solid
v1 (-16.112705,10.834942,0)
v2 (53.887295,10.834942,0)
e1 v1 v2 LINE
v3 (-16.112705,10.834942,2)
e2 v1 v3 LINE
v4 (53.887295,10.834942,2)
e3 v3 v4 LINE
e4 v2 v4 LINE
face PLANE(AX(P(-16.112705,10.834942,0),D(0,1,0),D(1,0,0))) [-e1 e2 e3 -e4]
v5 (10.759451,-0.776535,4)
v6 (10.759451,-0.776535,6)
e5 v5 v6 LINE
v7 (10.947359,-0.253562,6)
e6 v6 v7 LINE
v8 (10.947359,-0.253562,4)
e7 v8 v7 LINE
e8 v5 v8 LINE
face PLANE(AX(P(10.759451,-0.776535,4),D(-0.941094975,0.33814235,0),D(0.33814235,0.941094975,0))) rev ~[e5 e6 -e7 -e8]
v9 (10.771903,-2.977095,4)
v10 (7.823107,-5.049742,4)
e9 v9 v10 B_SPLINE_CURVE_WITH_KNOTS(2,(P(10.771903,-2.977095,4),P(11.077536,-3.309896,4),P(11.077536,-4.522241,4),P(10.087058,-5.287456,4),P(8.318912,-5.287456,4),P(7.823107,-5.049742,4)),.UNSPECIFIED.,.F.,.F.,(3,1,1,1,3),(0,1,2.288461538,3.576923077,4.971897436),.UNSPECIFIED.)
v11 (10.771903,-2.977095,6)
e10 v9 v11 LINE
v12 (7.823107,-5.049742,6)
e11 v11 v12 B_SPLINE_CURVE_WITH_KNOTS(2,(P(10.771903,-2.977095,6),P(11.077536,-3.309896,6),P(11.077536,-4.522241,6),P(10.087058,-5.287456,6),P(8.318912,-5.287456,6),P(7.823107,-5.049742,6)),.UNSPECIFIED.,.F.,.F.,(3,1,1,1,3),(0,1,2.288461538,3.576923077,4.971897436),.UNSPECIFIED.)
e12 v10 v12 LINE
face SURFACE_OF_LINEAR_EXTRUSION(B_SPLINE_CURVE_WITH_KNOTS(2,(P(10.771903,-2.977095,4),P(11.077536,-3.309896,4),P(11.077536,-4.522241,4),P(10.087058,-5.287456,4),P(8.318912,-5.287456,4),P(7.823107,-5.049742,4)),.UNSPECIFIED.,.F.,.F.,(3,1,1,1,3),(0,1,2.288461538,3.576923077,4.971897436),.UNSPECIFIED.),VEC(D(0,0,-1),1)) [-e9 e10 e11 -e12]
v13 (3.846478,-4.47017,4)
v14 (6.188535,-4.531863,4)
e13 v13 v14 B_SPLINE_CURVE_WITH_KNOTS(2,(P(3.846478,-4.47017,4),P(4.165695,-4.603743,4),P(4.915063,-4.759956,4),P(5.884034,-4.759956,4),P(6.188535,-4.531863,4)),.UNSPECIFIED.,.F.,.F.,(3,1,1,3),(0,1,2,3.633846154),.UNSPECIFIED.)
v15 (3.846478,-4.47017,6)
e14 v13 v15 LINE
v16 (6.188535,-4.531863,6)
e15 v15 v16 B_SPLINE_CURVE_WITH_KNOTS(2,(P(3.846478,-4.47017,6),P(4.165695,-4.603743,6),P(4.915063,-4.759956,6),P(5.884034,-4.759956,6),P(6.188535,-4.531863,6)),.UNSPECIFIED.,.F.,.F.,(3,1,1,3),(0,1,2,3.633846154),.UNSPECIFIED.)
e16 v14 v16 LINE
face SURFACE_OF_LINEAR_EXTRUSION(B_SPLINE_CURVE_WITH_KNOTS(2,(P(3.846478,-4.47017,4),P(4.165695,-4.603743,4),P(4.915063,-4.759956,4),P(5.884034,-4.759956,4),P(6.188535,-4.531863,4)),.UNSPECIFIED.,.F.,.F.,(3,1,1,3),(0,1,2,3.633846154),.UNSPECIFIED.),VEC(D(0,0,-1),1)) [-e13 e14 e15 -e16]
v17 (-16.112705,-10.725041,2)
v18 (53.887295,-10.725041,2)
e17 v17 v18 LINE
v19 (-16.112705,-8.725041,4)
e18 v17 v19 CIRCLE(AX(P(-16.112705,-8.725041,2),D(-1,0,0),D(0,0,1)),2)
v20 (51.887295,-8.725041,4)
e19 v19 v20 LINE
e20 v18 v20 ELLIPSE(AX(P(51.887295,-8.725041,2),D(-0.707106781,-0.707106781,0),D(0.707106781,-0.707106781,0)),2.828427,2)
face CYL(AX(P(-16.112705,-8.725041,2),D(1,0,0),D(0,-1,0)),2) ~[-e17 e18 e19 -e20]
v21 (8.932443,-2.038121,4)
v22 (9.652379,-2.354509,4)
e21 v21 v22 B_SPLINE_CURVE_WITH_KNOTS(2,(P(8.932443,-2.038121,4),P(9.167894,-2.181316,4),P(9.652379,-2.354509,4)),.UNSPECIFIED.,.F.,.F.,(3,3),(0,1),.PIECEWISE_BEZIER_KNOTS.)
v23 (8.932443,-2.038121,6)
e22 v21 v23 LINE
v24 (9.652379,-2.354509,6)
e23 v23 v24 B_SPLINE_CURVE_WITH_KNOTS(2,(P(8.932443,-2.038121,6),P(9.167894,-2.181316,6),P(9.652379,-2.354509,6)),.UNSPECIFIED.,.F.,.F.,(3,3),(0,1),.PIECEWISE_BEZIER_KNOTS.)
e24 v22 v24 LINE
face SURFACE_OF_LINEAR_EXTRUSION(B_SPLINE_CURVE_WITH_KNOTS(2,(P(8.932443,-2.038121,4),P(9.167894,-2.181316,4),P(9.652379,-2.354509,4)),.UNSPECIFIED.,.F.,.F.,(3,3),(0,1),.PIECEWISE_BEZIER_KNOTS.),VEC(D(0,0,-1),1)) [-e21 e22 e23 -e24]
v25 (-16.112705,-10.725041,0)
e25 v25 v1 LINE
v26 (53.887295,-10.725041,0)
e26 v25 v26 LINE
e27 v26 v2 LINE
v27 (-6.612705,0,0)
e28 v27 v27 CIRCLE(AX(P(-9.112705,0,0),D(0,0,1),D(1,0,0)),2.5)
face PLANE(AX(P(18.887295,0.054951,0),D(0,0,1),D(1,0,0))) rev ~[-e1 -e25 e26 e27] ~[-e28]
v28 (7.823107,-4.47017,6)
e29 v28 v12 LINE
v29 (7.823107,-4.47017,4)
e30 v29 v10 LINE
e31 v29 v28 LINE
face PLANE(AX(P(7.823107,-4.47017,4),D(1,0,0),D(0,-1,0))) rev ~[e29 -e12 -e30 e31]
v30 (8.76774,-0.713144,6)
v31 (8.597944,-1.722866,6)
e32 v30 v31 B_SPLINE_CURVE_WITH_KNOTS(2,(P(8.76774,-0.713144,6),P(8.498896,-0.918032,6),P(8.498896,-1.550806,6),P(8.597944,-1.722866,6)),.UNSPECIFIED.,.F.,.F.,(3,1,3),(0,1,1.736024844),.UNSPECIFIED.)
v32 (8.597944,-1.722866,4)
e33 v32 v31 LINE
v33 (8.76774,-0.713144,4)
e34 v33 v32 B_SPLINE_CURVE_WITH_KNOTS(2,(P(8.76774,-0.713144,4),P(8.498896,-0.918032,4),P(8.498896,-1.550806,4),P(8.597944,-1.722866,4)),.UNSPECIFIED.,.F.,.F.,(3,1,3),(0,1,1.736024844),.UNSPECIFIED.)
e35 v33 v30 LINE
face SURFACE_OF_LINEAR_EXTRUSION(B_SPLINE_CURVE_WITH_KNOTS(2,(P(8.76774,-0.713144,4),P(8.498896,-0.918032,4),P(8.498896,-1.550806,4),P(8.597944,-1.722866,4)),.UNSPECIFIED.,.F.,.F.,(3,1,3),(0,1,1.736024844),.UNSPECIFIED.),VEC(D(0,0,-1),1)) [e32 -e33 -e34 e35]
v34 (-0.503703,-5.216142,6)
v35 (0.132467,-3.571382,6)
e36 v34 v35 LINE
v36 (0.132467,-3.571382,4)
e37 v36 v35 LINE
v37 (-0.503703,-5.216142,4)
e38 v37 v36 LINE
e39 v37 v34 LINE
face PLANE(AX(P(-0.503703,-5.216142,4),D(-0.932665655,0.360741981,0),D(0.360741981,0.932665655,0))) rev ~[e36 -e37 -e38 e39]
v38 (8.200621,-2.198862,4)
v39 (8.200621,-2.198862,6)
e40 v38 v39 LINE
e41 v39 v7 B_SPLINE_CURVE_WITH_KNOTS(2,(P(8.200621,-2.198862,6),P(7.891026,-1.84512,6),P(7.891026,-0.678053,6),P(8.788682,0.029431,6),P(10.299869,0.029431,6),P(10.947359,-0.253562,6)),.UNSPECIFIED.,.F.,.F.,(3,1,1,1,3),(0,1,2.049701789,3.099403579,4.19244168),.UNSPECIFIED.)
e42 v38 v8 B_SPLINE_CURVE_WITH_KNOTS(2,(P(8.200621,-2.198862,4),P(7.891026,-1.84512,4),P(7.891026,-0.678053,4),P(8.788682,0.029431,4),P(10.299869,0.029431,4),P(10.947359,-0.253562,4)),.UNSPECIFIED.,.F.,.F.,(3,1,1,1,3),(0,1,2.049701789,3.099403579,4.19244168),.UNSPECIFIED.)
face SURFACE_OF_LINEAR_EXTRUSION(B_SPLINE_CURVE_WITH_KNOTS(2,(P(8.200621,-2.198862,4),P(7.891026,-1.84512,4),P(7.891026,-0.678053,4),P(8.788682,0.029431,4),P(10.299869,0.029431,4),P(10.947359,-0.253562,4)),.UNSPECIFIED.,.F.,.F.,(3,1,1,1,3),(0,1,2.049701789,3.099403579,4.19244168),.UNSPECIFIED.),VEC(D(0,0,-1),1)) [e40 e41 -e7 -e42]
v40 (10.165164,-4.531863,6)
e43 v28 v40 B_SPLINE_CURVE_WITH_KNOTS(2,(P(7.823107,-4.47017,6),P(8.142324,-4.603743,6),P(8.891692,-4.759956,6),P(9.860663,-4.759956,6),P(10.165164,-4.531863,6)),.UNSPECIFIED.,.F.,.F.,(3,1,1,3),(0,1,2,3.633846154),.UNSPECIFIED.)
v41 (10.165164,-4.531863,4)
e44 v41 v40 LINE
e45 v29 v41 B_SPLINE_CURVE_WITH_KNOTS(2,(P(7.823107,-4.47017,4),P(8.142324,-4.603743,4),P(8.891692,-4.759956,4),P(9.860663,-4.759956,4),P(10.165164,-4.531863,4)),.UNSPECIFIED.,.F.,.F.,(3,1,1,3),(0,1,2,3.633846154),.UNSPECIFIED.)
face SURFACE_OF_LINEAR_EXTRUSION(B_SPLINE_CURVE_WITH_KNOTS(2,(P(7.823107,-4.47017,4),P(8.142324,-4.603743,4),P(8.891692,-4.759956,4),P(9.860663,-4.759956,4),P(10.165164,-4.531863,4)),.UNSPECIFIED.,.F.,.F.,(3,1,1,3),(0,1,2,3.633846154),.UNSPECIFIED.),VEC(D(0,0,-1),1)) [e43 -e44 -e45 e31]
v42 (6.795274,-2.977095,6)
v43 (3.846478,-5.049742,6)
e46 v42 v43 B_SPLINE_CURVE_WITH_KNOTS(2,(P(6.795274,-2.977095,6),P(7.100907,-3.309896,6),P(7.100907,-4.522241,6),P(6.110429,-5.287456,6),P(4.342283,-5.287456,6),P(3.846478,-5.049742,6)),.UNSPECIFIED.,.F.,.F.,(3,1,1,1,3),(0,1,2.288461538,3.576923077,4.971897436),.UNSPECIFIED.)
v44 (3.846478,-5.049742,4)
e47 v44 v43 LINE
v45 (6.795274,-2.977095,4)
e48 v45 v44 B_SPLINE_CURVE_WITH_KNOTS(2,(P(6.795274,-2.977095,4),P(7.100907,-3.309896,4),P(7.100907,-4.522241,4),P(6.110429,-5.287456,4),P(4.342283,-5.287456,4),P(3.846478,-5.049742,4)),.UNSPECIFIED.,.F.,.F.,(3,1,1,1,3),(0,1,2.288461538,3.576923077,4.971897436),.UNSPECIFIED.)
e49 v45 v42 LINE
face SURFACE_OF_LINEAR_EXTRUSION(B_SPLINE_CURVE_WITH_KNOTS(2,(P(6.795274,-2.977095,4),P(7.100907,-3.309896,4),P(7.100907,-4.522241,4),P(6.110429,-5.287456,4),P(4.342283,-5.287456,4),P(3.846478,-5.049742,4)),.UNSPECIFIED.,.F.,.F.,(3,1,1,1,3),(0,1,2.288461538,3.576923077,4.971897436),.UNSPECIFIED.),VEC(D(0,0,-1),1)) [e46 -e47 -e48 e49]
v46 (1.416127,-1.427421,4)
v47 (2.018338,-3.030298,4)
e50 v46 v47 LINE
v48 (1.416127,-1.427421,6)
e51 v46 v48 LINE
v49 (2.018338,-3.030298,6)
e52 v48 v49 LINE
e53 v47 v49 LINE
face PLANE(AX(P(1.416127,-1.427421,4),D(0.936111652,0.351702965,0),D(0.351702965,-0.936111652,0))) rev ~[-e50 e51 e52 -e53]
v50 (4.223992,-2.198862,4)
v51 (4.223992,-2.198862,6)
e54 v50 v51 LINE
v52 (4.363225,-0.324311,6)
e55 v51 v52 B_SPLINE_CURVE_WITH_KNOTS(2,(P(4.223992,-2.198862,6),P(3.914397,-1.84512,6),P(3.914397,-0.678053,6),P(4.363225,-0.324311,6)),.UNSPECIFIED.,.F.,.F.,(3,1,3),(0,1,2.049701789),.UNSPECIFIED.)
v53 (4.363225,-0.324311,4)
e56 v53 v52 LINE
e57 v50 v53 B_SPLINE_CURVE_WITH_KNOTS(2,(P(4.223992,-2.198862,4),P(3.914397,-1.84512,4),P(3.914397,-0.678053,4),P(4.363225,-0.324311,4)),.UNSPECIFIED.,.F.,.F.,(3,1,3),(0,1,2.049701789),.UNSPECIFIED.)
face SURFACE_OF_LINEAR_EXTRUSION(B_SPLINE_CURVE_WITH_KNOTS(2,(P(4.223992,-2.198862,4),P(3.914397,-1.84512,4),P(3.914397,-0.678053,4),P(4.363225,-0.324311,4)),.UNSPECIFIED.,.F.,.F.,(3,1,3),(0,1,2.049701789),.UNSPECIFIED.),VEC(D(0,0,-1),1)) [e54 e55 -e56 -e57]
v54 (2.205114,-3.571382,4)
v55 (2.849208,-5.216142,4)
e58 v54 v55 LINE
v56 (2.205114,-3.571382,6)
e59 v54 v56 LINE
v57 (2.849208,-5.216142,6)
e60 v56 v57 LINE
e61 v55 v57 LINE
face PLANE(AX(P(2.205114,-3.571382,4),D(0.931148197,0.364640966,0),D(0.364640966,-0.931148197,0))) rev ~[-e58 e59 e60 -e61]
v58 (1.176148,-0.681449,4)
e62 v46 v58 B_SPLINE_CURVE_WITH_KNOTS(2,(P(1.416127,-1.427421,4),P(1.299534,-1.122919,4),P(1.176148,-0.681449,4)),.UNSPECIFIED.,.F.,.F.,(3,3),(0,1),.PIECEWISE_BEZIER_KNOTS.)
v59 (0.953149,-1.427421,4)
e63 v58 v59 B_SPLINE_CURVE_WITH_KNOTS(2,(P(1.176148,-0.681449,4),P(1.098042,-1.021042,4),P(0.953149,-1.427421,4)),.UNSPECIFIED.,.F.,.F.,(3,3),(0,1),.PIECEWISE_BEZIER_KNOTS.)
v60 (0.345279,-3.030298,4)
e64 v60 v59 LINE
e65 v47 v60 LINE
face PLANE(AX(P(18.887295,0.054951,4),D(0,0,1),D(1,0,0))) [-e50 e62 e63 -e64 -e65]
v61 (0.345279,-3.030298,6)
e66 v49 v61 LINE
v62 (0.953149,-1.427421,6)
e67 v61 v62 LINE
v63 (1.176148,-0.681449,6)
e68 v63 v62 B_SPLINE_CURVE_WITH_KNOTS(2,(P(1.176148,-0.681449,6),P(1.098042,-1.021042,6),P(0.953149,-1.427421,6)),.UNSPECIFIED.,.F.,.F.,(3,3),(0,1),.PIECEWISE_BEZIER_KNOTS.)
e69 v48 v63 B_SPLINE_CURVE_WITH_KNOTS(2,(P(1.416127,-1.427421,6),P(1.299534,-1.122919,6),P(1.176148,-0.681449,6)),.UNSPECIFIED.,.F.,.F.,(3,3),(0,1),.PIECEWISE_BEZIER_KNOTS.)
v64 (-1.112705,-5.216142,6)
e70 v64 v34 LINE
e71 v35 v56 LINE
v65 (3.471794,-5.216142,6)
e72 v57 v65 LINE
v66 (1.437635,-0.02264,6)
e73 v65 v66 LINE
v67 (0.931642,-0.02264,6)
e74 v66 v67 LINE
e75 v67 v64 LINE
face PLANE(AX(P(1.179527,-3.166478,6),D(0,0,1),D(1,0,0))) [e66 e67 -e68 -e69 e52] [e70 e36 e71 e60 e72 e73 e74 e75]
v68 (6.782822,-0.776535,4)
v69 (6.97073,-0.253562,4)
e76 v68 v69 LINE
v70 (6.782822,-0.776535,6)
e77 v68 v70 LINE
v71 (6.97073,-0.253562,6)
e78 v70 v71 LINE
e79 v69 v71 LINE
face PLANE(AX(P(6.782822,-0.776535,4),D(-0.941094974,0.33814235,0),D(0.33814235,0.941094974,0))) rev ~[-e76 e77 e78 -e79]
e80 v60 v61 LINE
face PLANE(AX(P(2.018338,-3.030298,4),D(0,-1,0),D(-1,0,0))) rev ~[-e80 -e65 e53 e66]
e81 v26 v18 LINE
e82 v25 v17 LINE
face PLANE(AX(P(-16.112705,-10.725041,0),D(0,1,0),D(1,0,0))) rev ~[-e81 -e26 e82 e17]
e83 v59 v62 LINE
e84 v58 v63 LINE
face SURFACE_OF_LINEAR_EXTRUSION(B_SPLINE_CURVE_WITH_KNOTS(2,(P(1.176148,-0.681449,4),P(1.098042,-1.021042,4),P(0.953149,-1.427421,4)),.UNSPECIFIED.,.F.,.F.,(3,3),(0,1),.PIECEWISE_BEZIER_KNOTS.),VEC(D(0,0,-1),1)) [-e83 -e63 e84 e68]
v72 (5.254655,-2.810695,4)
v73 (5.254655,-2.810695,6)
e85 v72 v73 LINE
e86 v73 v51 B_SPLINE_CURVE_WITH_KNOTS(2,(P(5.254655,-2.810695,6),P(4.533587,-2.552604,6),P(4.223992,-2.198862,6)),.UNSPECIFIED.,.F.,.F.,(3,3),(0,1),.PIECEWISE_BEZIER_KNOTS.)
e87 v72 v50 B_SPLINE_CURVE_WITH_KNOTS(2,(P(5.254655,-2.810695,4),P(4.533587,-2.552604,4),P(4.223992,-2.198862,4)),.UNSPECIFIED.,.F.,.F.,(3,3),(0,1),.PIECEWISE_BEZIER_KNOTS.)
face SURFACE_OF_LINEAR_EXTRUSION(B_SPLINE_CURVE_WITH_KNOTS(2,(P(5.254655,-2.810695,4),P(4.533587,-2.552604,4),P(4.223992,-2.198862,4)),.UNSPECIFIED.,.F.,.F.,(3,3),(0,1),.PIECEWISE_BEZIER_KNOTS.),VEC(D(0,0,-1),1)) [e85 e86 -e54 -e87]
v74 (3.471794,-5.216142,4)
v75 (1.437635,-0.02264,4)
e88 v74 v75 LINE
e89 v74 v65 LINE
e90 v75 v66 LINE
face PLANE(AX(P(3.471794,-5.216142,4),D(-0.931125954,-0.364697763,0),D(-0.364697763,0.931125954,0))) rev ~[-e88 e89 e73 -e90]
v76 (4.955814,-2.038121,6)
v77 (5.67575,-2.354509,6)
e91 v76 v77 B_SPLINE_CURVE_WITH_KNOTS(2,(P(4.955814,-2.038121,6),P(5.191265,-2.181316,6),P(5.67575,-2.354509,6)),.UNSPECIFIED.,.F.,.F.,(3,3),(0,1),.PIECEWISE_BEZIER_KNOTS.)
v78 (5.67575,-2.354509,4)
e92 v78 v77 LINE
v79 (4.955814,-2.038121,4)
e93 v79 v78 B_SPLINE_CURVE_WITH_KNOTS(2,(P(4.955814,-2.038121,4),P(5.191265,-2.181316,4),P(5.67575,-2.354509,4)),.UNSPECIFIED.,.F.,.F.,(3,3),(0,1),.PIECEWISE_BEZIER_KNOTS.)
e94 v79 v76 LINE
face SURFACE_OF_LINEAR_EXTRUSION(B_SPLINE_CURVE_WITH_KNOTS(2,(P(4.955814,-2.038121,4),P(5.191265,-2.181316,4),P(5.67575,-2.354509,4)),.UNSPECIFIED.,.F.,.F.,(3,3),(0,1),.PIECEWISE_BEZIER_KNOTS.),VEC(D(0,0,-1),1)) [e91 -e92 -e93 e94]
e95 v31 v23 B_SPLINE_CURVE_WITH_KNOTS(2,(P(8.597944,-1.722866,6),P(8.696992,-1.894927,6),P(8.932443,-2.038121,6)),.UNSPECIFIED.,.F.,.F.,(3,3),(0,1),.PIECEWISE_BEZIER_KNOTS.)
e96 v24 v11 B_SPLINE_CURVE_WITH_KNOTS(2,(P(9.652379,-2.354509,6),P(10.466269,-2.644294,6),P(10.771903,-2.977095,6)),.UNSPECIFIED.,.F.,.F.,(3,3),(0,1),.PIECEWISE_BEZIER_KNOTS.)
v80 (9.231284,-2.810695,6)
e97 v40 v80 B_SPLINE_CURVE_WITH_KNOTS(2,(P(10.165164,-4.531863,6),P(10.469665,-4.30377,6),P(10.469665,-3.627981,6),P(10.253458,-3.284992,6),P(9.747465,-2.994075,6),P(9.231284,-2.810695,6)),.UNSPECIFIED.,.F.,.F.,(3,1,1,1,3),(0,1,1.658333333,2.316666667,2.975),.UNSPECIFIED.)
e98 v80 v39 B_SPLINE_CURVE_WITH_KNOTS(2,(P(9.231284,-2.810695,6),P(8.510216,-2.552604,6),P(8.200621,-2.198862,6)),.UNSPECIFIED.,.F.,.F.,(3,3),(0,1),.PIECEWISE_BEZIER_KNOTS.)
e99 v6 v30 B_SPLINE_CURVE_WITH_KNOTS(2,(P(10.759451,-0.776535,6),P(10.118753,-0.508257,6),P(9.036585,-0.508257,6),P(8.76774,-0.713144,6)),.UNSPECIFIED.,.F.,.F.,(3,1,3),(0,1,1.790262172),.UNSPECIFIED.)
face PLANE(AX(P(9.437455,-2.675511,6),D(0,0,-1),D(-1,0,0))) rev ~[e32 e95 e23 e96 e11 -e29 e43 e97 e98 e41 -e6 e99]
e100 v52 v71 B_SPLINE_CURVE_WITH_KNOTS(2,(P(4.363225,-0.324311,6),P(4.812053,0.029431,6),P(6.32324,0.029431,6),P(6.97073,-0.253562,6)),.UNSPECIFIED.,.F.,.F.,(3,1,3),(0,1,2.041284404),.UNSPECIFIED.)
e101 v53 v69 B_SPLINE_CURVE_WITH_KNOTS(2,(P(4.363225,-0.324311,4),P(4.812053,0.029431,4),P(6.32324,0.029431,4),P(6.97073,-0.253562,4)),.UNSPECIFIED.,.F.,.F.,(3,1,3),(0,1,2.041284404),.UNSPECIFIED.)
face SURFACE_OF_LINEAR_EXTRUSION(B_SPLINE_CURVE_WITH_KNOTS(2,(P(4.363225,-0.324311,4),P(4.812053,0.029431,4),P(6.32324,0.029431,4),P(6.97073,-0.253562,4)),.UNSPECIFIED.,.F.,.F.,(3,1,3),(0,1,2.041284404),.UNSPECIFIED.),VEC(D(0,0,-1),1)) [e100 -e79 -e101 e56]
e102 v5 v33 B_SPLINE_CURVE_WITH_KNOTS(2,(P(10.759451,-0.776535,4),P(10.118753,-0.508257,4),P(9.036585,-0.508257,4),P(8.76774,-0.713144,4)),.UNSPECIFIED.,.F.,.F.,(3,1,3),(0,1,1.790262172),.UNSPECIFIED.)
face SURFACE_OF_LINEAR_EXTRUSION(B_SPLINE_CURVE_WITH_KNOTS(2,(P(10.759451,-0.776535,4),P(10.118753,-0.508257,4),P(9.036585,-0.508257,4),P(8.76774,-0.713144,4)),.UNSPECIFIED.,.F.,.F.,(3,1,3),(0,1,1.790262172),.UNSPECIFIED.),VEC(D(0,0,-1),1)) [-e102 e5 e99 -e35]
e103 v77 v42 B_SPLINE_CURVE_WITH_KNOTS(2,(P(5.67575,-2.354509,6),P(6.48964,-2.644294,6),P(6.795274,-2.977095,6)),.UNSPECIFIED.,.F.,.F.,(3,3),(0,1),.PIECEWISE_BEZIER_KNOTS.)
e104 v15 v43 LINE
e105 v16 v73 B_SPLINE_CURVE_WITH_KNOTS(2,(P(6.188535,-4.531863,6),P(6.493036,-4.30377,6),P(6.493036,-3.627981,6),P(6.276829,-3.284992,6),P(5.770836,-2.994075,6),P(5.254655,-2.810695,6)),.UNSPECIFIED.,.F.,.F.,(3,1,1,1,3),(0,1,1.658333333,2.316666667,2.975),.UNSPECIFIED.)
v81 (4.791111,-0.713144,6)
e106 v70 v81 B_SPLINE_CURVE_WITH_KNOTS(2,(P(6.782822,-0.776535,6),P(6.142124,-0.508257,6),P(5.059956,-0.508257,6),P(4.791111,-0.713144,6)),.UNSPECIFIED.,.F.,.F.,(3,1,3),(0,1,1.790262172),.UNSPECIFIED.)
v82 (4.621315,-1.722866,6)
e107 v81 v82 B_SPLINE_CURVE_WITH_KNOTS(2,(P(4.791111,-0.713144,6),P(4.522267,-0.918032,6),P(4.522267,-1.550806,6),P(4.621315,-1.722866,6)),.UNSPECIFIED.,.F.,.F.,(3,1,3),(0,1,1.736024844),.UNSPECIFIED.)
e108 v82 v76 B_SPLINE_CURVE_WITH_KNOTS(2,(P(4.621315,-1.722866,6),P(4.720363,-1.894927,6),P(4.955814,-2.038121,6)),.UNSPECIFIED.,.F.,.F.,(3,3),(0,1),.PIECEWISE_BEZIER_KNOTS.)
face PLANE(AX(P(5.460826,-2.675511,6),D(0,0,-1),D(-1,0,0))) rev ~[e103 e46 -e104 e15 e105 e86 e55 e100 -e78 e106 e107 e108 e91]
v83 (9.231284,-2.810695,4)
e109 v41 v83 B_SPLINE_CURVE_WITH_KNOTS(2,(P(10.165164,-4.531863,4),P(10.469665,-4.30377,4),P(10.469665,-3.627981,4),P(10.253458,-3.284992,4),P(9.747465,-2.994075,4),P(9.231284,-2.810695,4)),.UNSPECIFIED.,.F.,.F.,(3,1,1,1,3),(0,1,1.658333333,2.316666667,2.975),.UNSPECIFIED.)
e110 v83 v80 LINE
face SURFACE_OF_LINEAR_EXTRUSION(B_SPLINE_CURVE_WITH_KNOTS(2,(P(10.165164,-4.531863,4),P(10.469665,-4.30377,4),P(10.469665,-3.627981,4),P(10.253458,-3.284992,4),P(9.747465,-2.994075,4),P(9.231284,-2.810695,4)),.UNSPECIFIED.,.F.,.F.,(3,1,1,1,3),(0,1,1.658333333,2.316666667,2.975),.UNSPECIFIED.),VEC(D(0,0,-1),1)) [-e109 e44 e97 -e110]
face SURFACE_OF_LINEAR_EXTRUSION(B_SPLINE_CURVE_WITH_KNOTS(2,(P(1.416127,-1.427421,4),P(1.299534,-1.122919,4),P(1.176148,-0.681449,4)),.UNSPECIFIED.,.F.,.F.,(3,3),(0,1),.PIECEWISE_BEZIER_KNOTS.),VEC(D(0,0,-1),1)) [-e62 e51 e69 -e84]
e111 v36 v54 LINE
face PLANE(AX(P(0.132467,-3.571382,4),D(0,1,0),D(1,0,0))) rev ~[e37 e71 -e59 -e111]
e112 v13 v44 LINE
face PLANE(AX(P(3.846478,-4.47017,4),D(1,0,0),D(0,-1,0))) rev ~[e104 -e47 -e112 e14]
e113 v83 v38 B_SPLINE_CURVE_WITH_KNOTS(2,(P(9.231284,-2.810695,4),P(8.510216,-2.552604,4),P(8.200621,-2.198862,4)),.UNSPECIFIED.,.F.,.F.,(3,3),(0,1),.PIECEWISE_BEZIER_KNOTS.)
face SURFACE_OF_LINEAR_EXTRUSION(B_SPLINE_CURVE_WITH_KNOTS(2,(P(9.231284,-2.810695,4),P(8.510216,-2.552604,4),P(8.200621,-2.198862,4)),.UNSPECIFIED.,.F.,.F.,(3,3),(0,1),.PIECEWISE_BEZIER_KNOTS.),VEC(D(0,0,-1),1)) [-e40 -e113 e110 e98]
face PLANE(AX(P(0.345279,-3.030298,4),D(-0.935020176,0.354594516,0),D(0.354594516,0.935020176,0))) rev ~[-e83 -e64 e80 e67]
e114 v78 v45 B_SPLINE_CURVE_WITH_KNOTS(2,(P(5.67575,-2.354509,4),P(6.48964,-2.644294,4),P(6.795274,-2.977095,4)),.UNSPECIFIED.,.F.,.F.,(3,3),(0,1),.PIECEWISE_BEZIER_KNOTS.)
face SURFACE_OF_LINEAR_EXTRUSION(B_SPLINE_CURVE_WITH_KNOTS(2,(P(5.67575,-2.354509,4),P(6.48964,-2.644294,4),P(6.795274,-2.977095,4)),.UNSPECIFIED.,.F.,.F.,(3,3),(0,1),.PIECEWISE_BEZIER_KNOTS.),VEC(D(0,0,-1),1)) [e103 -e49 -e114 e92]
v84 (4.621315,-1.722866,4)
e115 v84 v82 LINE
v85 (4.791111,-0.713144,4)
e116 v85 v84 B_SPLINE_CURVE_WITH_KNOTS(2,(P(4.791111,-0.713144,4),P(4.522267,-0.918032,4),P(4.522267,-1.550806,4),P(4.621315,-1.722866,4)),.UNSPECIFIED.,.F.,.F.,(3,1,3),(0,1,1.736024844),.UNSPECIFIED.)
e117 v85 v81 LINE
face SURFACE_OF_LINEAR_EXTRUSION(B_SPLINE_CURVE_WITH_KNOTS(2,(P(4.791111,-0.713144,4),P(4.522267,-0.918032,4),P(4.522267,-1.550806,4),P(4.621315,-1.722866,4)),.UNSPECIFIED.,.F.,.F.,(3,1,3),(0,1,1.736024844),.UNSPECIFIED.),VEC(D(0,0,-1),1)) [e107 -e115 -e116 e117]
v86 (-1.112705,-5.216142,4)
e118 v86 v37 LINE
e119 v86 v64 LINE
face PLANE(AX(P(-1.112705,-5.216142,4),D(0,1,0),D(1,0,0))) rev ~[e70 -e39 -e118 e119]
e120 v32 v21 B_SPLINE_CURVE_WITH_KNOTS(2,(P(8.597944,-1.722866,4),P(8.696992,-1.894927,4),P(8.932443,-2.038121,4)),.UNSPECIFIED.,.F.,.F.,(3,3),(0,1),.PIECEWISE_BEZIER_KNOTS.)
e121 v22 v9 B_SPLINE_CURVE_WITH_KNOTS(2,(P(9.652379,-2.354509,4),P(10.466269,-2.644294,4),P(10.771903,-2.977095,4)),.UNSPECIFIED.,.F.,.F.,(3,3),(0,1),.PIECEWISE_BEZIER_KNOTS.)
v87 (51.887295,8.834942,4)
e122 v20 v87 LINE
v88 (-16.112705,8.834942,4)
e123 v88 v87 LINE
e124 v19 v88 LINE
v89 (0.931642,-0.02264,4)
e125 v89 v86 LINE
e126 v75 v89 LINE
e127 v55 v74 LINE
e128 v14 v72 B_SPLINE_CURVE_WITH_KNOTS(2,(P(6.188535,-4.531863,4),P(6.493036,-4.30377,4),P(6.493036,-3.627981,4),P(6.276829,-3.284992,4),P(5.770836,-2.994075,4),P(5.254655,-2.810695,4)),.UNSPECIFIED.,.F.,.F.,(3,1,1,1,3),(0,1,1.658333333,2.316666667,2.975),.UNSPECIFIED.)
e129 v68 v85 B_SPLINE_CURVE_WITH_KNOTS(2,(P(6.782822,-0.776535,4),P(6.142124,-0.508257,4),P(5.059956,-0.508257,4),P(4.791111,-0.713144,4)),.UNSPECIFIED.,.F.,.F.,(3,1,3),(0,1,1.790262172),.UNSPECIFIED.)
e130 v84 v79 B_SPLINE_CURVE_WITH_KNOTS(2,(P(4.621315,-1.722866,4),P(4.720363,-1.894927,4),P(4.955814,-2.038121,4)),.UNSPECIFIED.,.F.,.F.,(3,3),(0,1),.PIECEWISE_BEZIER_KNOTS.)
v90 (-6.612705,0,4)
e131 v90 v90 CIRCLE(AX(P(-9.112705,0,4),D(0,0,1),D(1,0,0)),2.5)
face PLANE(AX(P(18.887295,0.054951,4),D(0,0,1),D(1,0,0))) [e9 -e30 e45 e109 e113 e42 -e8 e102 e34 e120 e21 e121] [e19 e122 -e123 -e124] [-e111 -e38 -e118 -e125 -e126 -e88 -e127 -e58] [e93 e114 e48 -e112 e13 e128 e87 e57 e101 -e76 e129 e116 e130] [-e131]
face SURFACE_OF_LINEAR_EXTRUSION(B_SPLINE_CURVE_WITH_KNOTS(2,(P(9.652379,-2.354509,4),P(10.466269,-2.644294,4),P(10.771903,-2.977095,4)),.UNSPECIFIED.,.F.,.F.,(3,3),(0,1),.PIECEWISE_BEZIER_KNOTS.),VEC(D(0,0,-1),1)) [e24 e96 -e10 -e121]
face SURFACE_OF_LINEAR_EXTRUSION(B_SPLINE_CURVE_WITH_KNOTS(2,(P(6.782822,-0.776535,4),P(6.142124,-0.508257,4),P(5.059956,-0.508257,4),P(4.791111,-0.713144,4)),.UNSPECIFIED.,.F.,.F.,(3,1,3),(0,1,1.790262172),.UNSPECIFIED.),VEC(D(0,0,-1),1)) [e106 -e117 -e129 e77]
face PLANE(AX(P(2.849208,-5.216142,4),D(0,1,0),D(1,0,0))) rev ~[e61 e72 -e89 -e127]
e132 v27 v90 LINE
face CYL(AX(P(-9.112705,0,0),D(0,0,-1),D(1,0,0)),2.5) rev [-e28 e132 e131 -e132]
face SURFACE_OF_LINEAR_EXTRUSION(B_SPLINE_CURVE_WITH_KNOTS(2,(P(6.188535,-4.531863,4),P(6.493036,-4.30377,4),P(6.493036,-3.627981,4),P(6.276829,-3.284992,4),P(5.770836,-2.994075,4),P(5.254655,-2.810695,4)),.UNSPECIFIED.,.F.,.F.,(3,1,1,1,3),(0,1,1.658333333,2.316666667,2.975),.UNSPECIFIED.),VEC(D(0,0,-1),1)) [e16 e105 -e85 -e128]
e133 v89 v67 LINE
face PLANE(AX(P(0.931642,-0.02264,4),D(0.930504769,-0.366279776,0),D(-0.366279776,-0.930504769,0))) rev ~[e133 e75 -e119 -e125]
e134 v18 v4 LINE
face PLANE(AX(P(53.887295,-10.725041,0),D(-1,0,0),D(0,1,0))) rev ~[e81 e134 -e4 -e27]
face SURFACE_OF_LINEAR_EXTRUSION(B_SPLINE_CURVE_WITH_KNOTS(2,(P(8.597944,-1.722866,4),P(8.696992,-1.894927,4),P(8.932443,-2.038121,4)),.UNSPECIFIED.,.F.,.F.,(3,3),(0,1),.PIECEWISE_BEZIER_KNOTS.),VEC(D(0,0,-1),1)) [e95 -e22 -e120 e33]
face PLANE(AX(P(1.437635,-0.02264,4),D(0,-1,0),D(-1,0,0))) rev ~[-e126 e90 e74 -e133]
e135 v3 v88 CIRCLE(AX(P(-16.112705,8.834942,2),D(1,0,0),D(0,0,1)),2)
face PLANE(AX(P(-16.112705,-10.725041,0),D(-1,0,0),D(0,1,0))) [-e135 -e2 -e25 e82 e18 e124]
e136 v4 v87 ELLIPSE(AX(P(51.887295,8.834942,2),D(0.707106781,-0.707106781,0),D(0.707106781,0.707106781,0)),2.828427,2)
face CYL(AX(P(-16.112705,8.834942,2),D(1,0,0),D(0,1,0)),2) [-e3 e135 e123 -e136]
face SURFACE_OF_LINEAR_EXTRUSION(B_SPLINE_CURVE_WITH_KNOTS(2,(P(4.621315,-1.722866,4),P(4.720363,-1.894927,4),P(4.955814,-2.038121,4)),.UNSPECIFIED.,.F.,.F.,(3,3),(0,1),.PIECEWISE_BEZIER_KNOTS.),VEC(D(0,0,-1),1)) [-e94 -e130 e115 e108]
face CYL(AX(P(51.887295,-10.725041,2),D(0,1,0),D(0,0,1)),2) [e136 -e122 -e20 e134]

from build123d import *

# Parameters (mm, degrees)
F0_W     = 70
F0_H     = 21.5599828357
F0_R     = 2.5
F1_DEPTH = 4
F3_DEPTH = 2
F4_R     = 2


with BuildPart() as f1:
    # F0 (on Top) → F1 (new body)
    with BuildSketch(Plane.XY):
        with Locations((18.8872945234, 0.0549508259)):
            Rectangle(F0_W, F0_H)
        with Locations((-9.1127054766, 0)):
            Circle(F0_R, mode=Mode.SUBTRACT)
    extrude(amount=F1_DEPTH)

    # F2 (on face) → F3 (join)
    with BuildSketch(Plane.XY.offset(4)):
        Polygon((2.2051139605, -3.5713818915), (2.8492078737, -5.2161419195), (3.4717942573, -5.2161419195), (1.4376347458, -0.0226395049), (0.9316418122, -0.0226395049), (-1.1127054766, -5.2161419195), (-0.5037027959, -5.2161419195), (0.1324672907, -3.5713818915), align=None)
        with BuildLine():
            Line((1.4161272162, -1.4274207814), (2.0183380454, -3.0302977254))
            Line((2.0183380454, -3.0302977254), (0.3452786363, -3.0302977254))
            Line((0.3452786363, -3.0302977254), (0.9531493418, -1.4274207814))
            add(Edge.make_bspline(
                [(1.1761484646, -0.6814490963), (1.0980421729, -1.0210416691), (0.9531493418, -1.4274207814)],
                knots=[0, 0, 0, 1, 1, 1], degree=2))
            add(Edge.make_bspline(
                [(1.4161272162, -1.4274207814), (1.2995337661, -1.122919441), (1.1761484646, -0.6814490963)],
                knots=[0, 0, 0, 1, 1, 1], degree=2))
        make_face(mode=Mode.SUBTRACT)
        with BuildLine():
            add(Edge.make_bspline(
                [(7.1009068862, -3.8396600241), (7.1009068862, -4.5222410956), (6.6056677174, -4.9048487277)],
                knots=[0, 0, 0, 1, 1, 1], degree=2))
            add(Edge.make_bspline(
                [(6.7952735706, -2.9770948889), (7.1009068862, -3.3098956104), (7.1009068862, -3.8396600241)],
                knots=[0, 0, 0, 1, 1, 1], degree=2))
            add(Edge.make_bspline(
                [(5.6757500553, -2.3545085053), (6.489640255, -2.6442941675), (6.7952735706, -2.9770948889)],
                knots=[0, 0, 0, 1, 1, 1], degree=2))
            add(Edge.make_bspline(
                [(4.9558138008, -2.0381214249), (5.1912646514, -2.1813162932), (5.6757500553, -2.3545085053)],
                knots=[0, 0, 0, 1, 1, 1], degree=2))
            add(Edge.make_bspline(
                [(4.6213151165, -1.7228663198), (4.7203629503, -1.8949265567), (4.9558138008, -2.0381214249)],
                knots=[0, 0, 0, 1, 1, 1], degree=2))
            add(Edge.make_bspline(
                [(4.5222672828, -1.2825279503), (4.5222672828, -1.5508060828), (4.6213151165, -1.7228663198)],
                knots=[0, 0, 0, 1, 1, 1], degree=2))
            add(Edge.make_bspline(
                [(4.791111403, -0.7131444031), (4.5222672828, -0.918031922), (4.5222672828, -1.2825279503)],
                knots=[0, 0, 0, 1, 1, 1], degree=2))
            add(Edge.make_bspline(
                [(5.5376490757, -0.5082568841), (5.0599555232, -0.5082568841), (4.791111403, -0.7131444031)],
                knots=[0, 0, 0, 1, 1, 1], degree=2))
            add(Edge.make_bspline(
                [(6.7828218429, -0.7765350167), (6.1421238554, -0.5082568841), (5.5376490757, -0.5082568841)],
                knots=[0, 0, 0, 1, 1, 1], degree=2))
            Line((6.7828218429, -0.7765350167), (6.9707297333, -0.2535624544))
            add(Edge.make_bspline(
                [(5.5523647539, 0.0294313563), (6.3232398943, 0.0294313563), (6.9707297333, -0.2535624544)],
                knots=[0, 0, 0, 1, 1, 1], degree=2))
            add(Edge.make_bspline(
                [(4.3632247612, -0.3243109071), (4.812052945, 0.0294313563), (5.5523647539, 0.0294313563)],
                knots=[0, 0, 0, 1, 1, 1], degree=2))
            add(Edge.make_bspline(
                [(3.9143965773, -1.2757360988), (3.9143965773, -0.6780531705), (4.3632247612, -0.3243109071)],
                knots=[0, 0, 0, 1, 1, 1], degree=2))
            add(Edge.make_bspline(
                [(4.2239918063, -2.1988619094), (3.9143965773, -1.845119646), (3.9143965773, -1.2757360988)],
                knots=[0, 0, 0, 1, 1, 1], degree=2))
            add(Edge.make_bspline(
                [(5.254655265, -2.8106945282), (4.5335870352, -2.5526041728), (4.2239918063, -2.1988619094)],
                knots=[0, 0, 0, 1, 1, 1], degree=2))
            add(Edge.make_bspline(
                [(6.0238324426, -3.1395333363), (5.7708359758, -2.9940745176), (5.254655265, -2.8106945282)],
                knots=[0, 0, 0, 1, 1, 1], degree=2))
            add(Edge.make_bspline(
                [(6.3849325451, -3.4564864043), (6.2768289094, -3.284992155), (6.0238324426, -3.1395333363)],
                knots=[0, 0, 0, 1, 1, 1], degree=2))
            add(Edge.make_bspline(
                [(6.4930361808, -3.8962587862), (6.4930361808, -3.6279806536), (6.3849325451, -3.4564864043)],
                knots=[0, 0, 0, 1, 1, 1], degree=2))
            add(Edge.make_bspline(
                [(6.1885348404, -4.5318628851), (6.4930361808, -4.3037698737), (6.4930361808, -3.8962587862)],
                knots=[0, 0, 0, 1, 1, 1], degree=2))
            add(Edge.make_bspline(
                [(5.282954646, -4.7599558966), (5.8840335, -4.7599558966), (6.1885348404, -4.5318628851)],
                knots=[0, 0, 0, 1, 1, 1], degree=2))
            add(Edge.make_bspline(
                [(4.5403788867, -4.6818496048), (4.9150626921, -4.7599558966), (5.282954646, -4.7599558966)],
                knots=[0, 0, 0, 1, 1, 1], degree=2))
            add(Edge.make_bspline(
                [(3.8464780628, -4.4701702344), (4.1656950813, -4.603743313), (4.5403788867, -4.6818496048)],
                knots=[0, 0, 0, 1, 1, 1], degree=2))
            Line((3.8464780628, -4.4701702344), (3.8464780628, -5.0497415588))
            add(Edge.make_bspline(
                [(5.2614471164, -5.2874563598), (4.3422832192, -5.2874563598), (3.8464780628, -5.0497415588)],
                knots=[0, 0, 0, 1, 1, 1], degree=2))
            add(Edge.make_bspline(
                [(6.6056677174, -4.9048487277), (6.1104285486, -5.2874563598), (5.2614471164, -5.2874563598)],
                knots=[0, 0, 0, 1, 1, 1], degree=2))
        make_face()
        with BuildLine():
            add(Edge.make_bspline(
                [(11.0775359147, -3.8396600241), (11.0775359147, -4.5222410956), (10.5822967459, -4.9048487277)],
                knots=[0, 0, 0, 1, 1, 1], degree=2))
            add(Edge.make_bspline(
                [(10.7719025991, -2.9770948889), (11.0775359147, -3.3098956104), (11.0775359147, -3.8396600241)],
                knots=[0, 0, 0, 1, 1, 1], degree=2))
            add(Edge.make_bspline(
                [(9.6523790838, -2.3545085053), (10.4662692835, -2.6442941675), (10.7719025991, -2.9770948889)],
                knots=[0, 0, 0, 1, 1, 1], degree=2))
            add(Edge.make_bspline(
                [(8.9324428293, -2.0381214249), (9.1678936798, -2.1813162932), (9.6523790838, -2.3545085053)],
                knots=[0, 0, 0, 1, 1, 1], degree=2))
            add(Edge.make_bspline(
                [(8.597944145, -1.7228663198), (8.6969919788, -1.8949265567), (8.9324428293, -2.0381214249)],
                knots=[0, 0, 0, 1, 1, 1], degree=2))
            add(Edge.make_bspline(
                [(8.4988963112, -1.2825279503), (8.4988963112, -1.5508060828), (8.597944145, -1.7228663198)],
                knots=[0, 0, 0, 1, 1, 1], degree=2))
            add(Edge.make_bspline(
                [(8.7677404314, -0.7131444031), (8.4988963112, -0.918031922), (8.4988963112, -1.2825279503)],
                knots=[0, 0, 0, 1, 1, 1], degree=2))
            add(Edge.make_bspline(
                [(9.5142781042, -0.5082568841), (9.0365845516, -0.5082568841), (8.7677404314, -0.7131444031)],
                knots=[0, 0, 0, 1, 1, 1], degree=2))
            add(Edge.make_bspline(
                [(10.7594508714, -0.7765350167), (10.1187528839, -0.5082568841), (9.5142781042, -0.5082568841)],
                knots=[0, 0, 0, 1, 1, 1], degree=2))
            Line((10.7594508714, -0.7765350167), (10.9473587617, -0.2535624544))
            add(Edge.make_bspline(
                [(9.5289937823, 0.0294313563), (10.2998689228, 0.0294313563), (10.9473587617, -0.2535624544)],
                knots=[0, 0, 0, 1, 1, 1], degree=2))
            add(Edge.make_bspline(
                [(8.3398537896, -0.3243109071), (8.7886819734, 0.0294313563), (9.5289937823, 0.0294313563)],
                knots=[0, 0, 0, 1, 1, 1], degree=2))
            add(Edge.make_bspline(
                [(7.8910256058, -1.2757360988), (7.8910256058, -0.6780531705), (8.3398537896, -0.3243109071)],
                knots=[0, 0, 0, 1, 1, 1], degree=2))
            add(Edge.make_bspline(
                [(8.2006208347, -2.1988619094), (7.8910256058, -1.845119646), (7.8910256058, -1.2757360988)],
                knots=[0, 0, 0, 1, 1, 1], degree=2))
            add(Edge.make_bspline(
                [(9.2312842934, -2.8106945282), (8.5102160637, -2.5526041728), (8.2006208347, -2.1988619094)],
                knots=[0, 0, 0, 1, 1, 1], degree=2))
            add(Edge.make_bspline(
                [(10.000461471, -3.1395333363), (9.7474650042, -2.9940745176), (9.2312842934, -2.8106945282)],
                knots=[0, 0, 0, 1, 1, 1], degree=2))
            add(Edge.make_bspline(
                [(10.3615615735, -3.4564864043), (10.2534579378, -3.284992155), (10.000461471, -3.1395333363)],
                knots=[0, 0, 0, 1, 1, 1], degree=2))
            add(Edge.make_bspline(
                [(10.4696652092, -3.8962587862), (10.4696652092, -3.6279806536), (10.3615615735, -3.4564864043)],
                knots=[0, 0, 0, 1, 1, 1], degree=2))
            add(Edge.make_bspline(
                [(10.1651638689, -4.5318628851), (10.4696652092, -4.3037698737), (10.4696652092, -3.8962587862)],
                knots=[0, 0, 0, 1, 1, 1], degree=2))
            add(Edge.make_bspline(
                [(9.2595836745, -4.7599558966), (9.8606625285, -4.7599558966), (10.1651638689, -4.5318628851)],
                knots=[0, 0, 0, 1, 1, 1], degree=2))
            add(Edge.make_bspline(
                [(8.5170079151, -4.6818496048), (8.8916917205, -4.7599558966), (9.2595836745, -4.7599558966)],
                knots=[0, 0, 0, 1, 1, 1], degree=2))
            add(Edge.make_bspline(
                [(7.8231070912, -4.4701702344), (8.1423241097, -4.603743313), (8.5170079151, -4.6818496048)],
                knots=[0, 0, 0, 1, 1, 1], degree=2))
            Line((7.8231070912, -4.4701702344), (7.8231070912, -5.0497415588))
            add(Edge.make_bspline(
                [(9.2380761449, -5.2874563598), (8.3189122476, -5.2874563598), (7.8231070912, -5.0497415588)],
                knots=[0, 0, 0, 1, 1, 1], degree=2))
            add(Edge.make_bspline(
                [(10.5822967459, -4.9048487277), (10.0870575771, -5.2874563598), (9.2380761449, -5.2874563598)],
                knots=[0, 0, 0, 1, 1, 1], degree=2))
        make_face()
    extrude(amount=F3_DEPTH)

    # F4
    f4_edges = [f1.edges().sort_by_distance(p)[0] for p in [
        (18.887295, -10.725041, 4),
        (18.887295, 10.834942, 4),
        (53.887295, 0.054951, 4),
    ]]
    fillet(f4_edges, radius=F4_R)


solid = f1.part
